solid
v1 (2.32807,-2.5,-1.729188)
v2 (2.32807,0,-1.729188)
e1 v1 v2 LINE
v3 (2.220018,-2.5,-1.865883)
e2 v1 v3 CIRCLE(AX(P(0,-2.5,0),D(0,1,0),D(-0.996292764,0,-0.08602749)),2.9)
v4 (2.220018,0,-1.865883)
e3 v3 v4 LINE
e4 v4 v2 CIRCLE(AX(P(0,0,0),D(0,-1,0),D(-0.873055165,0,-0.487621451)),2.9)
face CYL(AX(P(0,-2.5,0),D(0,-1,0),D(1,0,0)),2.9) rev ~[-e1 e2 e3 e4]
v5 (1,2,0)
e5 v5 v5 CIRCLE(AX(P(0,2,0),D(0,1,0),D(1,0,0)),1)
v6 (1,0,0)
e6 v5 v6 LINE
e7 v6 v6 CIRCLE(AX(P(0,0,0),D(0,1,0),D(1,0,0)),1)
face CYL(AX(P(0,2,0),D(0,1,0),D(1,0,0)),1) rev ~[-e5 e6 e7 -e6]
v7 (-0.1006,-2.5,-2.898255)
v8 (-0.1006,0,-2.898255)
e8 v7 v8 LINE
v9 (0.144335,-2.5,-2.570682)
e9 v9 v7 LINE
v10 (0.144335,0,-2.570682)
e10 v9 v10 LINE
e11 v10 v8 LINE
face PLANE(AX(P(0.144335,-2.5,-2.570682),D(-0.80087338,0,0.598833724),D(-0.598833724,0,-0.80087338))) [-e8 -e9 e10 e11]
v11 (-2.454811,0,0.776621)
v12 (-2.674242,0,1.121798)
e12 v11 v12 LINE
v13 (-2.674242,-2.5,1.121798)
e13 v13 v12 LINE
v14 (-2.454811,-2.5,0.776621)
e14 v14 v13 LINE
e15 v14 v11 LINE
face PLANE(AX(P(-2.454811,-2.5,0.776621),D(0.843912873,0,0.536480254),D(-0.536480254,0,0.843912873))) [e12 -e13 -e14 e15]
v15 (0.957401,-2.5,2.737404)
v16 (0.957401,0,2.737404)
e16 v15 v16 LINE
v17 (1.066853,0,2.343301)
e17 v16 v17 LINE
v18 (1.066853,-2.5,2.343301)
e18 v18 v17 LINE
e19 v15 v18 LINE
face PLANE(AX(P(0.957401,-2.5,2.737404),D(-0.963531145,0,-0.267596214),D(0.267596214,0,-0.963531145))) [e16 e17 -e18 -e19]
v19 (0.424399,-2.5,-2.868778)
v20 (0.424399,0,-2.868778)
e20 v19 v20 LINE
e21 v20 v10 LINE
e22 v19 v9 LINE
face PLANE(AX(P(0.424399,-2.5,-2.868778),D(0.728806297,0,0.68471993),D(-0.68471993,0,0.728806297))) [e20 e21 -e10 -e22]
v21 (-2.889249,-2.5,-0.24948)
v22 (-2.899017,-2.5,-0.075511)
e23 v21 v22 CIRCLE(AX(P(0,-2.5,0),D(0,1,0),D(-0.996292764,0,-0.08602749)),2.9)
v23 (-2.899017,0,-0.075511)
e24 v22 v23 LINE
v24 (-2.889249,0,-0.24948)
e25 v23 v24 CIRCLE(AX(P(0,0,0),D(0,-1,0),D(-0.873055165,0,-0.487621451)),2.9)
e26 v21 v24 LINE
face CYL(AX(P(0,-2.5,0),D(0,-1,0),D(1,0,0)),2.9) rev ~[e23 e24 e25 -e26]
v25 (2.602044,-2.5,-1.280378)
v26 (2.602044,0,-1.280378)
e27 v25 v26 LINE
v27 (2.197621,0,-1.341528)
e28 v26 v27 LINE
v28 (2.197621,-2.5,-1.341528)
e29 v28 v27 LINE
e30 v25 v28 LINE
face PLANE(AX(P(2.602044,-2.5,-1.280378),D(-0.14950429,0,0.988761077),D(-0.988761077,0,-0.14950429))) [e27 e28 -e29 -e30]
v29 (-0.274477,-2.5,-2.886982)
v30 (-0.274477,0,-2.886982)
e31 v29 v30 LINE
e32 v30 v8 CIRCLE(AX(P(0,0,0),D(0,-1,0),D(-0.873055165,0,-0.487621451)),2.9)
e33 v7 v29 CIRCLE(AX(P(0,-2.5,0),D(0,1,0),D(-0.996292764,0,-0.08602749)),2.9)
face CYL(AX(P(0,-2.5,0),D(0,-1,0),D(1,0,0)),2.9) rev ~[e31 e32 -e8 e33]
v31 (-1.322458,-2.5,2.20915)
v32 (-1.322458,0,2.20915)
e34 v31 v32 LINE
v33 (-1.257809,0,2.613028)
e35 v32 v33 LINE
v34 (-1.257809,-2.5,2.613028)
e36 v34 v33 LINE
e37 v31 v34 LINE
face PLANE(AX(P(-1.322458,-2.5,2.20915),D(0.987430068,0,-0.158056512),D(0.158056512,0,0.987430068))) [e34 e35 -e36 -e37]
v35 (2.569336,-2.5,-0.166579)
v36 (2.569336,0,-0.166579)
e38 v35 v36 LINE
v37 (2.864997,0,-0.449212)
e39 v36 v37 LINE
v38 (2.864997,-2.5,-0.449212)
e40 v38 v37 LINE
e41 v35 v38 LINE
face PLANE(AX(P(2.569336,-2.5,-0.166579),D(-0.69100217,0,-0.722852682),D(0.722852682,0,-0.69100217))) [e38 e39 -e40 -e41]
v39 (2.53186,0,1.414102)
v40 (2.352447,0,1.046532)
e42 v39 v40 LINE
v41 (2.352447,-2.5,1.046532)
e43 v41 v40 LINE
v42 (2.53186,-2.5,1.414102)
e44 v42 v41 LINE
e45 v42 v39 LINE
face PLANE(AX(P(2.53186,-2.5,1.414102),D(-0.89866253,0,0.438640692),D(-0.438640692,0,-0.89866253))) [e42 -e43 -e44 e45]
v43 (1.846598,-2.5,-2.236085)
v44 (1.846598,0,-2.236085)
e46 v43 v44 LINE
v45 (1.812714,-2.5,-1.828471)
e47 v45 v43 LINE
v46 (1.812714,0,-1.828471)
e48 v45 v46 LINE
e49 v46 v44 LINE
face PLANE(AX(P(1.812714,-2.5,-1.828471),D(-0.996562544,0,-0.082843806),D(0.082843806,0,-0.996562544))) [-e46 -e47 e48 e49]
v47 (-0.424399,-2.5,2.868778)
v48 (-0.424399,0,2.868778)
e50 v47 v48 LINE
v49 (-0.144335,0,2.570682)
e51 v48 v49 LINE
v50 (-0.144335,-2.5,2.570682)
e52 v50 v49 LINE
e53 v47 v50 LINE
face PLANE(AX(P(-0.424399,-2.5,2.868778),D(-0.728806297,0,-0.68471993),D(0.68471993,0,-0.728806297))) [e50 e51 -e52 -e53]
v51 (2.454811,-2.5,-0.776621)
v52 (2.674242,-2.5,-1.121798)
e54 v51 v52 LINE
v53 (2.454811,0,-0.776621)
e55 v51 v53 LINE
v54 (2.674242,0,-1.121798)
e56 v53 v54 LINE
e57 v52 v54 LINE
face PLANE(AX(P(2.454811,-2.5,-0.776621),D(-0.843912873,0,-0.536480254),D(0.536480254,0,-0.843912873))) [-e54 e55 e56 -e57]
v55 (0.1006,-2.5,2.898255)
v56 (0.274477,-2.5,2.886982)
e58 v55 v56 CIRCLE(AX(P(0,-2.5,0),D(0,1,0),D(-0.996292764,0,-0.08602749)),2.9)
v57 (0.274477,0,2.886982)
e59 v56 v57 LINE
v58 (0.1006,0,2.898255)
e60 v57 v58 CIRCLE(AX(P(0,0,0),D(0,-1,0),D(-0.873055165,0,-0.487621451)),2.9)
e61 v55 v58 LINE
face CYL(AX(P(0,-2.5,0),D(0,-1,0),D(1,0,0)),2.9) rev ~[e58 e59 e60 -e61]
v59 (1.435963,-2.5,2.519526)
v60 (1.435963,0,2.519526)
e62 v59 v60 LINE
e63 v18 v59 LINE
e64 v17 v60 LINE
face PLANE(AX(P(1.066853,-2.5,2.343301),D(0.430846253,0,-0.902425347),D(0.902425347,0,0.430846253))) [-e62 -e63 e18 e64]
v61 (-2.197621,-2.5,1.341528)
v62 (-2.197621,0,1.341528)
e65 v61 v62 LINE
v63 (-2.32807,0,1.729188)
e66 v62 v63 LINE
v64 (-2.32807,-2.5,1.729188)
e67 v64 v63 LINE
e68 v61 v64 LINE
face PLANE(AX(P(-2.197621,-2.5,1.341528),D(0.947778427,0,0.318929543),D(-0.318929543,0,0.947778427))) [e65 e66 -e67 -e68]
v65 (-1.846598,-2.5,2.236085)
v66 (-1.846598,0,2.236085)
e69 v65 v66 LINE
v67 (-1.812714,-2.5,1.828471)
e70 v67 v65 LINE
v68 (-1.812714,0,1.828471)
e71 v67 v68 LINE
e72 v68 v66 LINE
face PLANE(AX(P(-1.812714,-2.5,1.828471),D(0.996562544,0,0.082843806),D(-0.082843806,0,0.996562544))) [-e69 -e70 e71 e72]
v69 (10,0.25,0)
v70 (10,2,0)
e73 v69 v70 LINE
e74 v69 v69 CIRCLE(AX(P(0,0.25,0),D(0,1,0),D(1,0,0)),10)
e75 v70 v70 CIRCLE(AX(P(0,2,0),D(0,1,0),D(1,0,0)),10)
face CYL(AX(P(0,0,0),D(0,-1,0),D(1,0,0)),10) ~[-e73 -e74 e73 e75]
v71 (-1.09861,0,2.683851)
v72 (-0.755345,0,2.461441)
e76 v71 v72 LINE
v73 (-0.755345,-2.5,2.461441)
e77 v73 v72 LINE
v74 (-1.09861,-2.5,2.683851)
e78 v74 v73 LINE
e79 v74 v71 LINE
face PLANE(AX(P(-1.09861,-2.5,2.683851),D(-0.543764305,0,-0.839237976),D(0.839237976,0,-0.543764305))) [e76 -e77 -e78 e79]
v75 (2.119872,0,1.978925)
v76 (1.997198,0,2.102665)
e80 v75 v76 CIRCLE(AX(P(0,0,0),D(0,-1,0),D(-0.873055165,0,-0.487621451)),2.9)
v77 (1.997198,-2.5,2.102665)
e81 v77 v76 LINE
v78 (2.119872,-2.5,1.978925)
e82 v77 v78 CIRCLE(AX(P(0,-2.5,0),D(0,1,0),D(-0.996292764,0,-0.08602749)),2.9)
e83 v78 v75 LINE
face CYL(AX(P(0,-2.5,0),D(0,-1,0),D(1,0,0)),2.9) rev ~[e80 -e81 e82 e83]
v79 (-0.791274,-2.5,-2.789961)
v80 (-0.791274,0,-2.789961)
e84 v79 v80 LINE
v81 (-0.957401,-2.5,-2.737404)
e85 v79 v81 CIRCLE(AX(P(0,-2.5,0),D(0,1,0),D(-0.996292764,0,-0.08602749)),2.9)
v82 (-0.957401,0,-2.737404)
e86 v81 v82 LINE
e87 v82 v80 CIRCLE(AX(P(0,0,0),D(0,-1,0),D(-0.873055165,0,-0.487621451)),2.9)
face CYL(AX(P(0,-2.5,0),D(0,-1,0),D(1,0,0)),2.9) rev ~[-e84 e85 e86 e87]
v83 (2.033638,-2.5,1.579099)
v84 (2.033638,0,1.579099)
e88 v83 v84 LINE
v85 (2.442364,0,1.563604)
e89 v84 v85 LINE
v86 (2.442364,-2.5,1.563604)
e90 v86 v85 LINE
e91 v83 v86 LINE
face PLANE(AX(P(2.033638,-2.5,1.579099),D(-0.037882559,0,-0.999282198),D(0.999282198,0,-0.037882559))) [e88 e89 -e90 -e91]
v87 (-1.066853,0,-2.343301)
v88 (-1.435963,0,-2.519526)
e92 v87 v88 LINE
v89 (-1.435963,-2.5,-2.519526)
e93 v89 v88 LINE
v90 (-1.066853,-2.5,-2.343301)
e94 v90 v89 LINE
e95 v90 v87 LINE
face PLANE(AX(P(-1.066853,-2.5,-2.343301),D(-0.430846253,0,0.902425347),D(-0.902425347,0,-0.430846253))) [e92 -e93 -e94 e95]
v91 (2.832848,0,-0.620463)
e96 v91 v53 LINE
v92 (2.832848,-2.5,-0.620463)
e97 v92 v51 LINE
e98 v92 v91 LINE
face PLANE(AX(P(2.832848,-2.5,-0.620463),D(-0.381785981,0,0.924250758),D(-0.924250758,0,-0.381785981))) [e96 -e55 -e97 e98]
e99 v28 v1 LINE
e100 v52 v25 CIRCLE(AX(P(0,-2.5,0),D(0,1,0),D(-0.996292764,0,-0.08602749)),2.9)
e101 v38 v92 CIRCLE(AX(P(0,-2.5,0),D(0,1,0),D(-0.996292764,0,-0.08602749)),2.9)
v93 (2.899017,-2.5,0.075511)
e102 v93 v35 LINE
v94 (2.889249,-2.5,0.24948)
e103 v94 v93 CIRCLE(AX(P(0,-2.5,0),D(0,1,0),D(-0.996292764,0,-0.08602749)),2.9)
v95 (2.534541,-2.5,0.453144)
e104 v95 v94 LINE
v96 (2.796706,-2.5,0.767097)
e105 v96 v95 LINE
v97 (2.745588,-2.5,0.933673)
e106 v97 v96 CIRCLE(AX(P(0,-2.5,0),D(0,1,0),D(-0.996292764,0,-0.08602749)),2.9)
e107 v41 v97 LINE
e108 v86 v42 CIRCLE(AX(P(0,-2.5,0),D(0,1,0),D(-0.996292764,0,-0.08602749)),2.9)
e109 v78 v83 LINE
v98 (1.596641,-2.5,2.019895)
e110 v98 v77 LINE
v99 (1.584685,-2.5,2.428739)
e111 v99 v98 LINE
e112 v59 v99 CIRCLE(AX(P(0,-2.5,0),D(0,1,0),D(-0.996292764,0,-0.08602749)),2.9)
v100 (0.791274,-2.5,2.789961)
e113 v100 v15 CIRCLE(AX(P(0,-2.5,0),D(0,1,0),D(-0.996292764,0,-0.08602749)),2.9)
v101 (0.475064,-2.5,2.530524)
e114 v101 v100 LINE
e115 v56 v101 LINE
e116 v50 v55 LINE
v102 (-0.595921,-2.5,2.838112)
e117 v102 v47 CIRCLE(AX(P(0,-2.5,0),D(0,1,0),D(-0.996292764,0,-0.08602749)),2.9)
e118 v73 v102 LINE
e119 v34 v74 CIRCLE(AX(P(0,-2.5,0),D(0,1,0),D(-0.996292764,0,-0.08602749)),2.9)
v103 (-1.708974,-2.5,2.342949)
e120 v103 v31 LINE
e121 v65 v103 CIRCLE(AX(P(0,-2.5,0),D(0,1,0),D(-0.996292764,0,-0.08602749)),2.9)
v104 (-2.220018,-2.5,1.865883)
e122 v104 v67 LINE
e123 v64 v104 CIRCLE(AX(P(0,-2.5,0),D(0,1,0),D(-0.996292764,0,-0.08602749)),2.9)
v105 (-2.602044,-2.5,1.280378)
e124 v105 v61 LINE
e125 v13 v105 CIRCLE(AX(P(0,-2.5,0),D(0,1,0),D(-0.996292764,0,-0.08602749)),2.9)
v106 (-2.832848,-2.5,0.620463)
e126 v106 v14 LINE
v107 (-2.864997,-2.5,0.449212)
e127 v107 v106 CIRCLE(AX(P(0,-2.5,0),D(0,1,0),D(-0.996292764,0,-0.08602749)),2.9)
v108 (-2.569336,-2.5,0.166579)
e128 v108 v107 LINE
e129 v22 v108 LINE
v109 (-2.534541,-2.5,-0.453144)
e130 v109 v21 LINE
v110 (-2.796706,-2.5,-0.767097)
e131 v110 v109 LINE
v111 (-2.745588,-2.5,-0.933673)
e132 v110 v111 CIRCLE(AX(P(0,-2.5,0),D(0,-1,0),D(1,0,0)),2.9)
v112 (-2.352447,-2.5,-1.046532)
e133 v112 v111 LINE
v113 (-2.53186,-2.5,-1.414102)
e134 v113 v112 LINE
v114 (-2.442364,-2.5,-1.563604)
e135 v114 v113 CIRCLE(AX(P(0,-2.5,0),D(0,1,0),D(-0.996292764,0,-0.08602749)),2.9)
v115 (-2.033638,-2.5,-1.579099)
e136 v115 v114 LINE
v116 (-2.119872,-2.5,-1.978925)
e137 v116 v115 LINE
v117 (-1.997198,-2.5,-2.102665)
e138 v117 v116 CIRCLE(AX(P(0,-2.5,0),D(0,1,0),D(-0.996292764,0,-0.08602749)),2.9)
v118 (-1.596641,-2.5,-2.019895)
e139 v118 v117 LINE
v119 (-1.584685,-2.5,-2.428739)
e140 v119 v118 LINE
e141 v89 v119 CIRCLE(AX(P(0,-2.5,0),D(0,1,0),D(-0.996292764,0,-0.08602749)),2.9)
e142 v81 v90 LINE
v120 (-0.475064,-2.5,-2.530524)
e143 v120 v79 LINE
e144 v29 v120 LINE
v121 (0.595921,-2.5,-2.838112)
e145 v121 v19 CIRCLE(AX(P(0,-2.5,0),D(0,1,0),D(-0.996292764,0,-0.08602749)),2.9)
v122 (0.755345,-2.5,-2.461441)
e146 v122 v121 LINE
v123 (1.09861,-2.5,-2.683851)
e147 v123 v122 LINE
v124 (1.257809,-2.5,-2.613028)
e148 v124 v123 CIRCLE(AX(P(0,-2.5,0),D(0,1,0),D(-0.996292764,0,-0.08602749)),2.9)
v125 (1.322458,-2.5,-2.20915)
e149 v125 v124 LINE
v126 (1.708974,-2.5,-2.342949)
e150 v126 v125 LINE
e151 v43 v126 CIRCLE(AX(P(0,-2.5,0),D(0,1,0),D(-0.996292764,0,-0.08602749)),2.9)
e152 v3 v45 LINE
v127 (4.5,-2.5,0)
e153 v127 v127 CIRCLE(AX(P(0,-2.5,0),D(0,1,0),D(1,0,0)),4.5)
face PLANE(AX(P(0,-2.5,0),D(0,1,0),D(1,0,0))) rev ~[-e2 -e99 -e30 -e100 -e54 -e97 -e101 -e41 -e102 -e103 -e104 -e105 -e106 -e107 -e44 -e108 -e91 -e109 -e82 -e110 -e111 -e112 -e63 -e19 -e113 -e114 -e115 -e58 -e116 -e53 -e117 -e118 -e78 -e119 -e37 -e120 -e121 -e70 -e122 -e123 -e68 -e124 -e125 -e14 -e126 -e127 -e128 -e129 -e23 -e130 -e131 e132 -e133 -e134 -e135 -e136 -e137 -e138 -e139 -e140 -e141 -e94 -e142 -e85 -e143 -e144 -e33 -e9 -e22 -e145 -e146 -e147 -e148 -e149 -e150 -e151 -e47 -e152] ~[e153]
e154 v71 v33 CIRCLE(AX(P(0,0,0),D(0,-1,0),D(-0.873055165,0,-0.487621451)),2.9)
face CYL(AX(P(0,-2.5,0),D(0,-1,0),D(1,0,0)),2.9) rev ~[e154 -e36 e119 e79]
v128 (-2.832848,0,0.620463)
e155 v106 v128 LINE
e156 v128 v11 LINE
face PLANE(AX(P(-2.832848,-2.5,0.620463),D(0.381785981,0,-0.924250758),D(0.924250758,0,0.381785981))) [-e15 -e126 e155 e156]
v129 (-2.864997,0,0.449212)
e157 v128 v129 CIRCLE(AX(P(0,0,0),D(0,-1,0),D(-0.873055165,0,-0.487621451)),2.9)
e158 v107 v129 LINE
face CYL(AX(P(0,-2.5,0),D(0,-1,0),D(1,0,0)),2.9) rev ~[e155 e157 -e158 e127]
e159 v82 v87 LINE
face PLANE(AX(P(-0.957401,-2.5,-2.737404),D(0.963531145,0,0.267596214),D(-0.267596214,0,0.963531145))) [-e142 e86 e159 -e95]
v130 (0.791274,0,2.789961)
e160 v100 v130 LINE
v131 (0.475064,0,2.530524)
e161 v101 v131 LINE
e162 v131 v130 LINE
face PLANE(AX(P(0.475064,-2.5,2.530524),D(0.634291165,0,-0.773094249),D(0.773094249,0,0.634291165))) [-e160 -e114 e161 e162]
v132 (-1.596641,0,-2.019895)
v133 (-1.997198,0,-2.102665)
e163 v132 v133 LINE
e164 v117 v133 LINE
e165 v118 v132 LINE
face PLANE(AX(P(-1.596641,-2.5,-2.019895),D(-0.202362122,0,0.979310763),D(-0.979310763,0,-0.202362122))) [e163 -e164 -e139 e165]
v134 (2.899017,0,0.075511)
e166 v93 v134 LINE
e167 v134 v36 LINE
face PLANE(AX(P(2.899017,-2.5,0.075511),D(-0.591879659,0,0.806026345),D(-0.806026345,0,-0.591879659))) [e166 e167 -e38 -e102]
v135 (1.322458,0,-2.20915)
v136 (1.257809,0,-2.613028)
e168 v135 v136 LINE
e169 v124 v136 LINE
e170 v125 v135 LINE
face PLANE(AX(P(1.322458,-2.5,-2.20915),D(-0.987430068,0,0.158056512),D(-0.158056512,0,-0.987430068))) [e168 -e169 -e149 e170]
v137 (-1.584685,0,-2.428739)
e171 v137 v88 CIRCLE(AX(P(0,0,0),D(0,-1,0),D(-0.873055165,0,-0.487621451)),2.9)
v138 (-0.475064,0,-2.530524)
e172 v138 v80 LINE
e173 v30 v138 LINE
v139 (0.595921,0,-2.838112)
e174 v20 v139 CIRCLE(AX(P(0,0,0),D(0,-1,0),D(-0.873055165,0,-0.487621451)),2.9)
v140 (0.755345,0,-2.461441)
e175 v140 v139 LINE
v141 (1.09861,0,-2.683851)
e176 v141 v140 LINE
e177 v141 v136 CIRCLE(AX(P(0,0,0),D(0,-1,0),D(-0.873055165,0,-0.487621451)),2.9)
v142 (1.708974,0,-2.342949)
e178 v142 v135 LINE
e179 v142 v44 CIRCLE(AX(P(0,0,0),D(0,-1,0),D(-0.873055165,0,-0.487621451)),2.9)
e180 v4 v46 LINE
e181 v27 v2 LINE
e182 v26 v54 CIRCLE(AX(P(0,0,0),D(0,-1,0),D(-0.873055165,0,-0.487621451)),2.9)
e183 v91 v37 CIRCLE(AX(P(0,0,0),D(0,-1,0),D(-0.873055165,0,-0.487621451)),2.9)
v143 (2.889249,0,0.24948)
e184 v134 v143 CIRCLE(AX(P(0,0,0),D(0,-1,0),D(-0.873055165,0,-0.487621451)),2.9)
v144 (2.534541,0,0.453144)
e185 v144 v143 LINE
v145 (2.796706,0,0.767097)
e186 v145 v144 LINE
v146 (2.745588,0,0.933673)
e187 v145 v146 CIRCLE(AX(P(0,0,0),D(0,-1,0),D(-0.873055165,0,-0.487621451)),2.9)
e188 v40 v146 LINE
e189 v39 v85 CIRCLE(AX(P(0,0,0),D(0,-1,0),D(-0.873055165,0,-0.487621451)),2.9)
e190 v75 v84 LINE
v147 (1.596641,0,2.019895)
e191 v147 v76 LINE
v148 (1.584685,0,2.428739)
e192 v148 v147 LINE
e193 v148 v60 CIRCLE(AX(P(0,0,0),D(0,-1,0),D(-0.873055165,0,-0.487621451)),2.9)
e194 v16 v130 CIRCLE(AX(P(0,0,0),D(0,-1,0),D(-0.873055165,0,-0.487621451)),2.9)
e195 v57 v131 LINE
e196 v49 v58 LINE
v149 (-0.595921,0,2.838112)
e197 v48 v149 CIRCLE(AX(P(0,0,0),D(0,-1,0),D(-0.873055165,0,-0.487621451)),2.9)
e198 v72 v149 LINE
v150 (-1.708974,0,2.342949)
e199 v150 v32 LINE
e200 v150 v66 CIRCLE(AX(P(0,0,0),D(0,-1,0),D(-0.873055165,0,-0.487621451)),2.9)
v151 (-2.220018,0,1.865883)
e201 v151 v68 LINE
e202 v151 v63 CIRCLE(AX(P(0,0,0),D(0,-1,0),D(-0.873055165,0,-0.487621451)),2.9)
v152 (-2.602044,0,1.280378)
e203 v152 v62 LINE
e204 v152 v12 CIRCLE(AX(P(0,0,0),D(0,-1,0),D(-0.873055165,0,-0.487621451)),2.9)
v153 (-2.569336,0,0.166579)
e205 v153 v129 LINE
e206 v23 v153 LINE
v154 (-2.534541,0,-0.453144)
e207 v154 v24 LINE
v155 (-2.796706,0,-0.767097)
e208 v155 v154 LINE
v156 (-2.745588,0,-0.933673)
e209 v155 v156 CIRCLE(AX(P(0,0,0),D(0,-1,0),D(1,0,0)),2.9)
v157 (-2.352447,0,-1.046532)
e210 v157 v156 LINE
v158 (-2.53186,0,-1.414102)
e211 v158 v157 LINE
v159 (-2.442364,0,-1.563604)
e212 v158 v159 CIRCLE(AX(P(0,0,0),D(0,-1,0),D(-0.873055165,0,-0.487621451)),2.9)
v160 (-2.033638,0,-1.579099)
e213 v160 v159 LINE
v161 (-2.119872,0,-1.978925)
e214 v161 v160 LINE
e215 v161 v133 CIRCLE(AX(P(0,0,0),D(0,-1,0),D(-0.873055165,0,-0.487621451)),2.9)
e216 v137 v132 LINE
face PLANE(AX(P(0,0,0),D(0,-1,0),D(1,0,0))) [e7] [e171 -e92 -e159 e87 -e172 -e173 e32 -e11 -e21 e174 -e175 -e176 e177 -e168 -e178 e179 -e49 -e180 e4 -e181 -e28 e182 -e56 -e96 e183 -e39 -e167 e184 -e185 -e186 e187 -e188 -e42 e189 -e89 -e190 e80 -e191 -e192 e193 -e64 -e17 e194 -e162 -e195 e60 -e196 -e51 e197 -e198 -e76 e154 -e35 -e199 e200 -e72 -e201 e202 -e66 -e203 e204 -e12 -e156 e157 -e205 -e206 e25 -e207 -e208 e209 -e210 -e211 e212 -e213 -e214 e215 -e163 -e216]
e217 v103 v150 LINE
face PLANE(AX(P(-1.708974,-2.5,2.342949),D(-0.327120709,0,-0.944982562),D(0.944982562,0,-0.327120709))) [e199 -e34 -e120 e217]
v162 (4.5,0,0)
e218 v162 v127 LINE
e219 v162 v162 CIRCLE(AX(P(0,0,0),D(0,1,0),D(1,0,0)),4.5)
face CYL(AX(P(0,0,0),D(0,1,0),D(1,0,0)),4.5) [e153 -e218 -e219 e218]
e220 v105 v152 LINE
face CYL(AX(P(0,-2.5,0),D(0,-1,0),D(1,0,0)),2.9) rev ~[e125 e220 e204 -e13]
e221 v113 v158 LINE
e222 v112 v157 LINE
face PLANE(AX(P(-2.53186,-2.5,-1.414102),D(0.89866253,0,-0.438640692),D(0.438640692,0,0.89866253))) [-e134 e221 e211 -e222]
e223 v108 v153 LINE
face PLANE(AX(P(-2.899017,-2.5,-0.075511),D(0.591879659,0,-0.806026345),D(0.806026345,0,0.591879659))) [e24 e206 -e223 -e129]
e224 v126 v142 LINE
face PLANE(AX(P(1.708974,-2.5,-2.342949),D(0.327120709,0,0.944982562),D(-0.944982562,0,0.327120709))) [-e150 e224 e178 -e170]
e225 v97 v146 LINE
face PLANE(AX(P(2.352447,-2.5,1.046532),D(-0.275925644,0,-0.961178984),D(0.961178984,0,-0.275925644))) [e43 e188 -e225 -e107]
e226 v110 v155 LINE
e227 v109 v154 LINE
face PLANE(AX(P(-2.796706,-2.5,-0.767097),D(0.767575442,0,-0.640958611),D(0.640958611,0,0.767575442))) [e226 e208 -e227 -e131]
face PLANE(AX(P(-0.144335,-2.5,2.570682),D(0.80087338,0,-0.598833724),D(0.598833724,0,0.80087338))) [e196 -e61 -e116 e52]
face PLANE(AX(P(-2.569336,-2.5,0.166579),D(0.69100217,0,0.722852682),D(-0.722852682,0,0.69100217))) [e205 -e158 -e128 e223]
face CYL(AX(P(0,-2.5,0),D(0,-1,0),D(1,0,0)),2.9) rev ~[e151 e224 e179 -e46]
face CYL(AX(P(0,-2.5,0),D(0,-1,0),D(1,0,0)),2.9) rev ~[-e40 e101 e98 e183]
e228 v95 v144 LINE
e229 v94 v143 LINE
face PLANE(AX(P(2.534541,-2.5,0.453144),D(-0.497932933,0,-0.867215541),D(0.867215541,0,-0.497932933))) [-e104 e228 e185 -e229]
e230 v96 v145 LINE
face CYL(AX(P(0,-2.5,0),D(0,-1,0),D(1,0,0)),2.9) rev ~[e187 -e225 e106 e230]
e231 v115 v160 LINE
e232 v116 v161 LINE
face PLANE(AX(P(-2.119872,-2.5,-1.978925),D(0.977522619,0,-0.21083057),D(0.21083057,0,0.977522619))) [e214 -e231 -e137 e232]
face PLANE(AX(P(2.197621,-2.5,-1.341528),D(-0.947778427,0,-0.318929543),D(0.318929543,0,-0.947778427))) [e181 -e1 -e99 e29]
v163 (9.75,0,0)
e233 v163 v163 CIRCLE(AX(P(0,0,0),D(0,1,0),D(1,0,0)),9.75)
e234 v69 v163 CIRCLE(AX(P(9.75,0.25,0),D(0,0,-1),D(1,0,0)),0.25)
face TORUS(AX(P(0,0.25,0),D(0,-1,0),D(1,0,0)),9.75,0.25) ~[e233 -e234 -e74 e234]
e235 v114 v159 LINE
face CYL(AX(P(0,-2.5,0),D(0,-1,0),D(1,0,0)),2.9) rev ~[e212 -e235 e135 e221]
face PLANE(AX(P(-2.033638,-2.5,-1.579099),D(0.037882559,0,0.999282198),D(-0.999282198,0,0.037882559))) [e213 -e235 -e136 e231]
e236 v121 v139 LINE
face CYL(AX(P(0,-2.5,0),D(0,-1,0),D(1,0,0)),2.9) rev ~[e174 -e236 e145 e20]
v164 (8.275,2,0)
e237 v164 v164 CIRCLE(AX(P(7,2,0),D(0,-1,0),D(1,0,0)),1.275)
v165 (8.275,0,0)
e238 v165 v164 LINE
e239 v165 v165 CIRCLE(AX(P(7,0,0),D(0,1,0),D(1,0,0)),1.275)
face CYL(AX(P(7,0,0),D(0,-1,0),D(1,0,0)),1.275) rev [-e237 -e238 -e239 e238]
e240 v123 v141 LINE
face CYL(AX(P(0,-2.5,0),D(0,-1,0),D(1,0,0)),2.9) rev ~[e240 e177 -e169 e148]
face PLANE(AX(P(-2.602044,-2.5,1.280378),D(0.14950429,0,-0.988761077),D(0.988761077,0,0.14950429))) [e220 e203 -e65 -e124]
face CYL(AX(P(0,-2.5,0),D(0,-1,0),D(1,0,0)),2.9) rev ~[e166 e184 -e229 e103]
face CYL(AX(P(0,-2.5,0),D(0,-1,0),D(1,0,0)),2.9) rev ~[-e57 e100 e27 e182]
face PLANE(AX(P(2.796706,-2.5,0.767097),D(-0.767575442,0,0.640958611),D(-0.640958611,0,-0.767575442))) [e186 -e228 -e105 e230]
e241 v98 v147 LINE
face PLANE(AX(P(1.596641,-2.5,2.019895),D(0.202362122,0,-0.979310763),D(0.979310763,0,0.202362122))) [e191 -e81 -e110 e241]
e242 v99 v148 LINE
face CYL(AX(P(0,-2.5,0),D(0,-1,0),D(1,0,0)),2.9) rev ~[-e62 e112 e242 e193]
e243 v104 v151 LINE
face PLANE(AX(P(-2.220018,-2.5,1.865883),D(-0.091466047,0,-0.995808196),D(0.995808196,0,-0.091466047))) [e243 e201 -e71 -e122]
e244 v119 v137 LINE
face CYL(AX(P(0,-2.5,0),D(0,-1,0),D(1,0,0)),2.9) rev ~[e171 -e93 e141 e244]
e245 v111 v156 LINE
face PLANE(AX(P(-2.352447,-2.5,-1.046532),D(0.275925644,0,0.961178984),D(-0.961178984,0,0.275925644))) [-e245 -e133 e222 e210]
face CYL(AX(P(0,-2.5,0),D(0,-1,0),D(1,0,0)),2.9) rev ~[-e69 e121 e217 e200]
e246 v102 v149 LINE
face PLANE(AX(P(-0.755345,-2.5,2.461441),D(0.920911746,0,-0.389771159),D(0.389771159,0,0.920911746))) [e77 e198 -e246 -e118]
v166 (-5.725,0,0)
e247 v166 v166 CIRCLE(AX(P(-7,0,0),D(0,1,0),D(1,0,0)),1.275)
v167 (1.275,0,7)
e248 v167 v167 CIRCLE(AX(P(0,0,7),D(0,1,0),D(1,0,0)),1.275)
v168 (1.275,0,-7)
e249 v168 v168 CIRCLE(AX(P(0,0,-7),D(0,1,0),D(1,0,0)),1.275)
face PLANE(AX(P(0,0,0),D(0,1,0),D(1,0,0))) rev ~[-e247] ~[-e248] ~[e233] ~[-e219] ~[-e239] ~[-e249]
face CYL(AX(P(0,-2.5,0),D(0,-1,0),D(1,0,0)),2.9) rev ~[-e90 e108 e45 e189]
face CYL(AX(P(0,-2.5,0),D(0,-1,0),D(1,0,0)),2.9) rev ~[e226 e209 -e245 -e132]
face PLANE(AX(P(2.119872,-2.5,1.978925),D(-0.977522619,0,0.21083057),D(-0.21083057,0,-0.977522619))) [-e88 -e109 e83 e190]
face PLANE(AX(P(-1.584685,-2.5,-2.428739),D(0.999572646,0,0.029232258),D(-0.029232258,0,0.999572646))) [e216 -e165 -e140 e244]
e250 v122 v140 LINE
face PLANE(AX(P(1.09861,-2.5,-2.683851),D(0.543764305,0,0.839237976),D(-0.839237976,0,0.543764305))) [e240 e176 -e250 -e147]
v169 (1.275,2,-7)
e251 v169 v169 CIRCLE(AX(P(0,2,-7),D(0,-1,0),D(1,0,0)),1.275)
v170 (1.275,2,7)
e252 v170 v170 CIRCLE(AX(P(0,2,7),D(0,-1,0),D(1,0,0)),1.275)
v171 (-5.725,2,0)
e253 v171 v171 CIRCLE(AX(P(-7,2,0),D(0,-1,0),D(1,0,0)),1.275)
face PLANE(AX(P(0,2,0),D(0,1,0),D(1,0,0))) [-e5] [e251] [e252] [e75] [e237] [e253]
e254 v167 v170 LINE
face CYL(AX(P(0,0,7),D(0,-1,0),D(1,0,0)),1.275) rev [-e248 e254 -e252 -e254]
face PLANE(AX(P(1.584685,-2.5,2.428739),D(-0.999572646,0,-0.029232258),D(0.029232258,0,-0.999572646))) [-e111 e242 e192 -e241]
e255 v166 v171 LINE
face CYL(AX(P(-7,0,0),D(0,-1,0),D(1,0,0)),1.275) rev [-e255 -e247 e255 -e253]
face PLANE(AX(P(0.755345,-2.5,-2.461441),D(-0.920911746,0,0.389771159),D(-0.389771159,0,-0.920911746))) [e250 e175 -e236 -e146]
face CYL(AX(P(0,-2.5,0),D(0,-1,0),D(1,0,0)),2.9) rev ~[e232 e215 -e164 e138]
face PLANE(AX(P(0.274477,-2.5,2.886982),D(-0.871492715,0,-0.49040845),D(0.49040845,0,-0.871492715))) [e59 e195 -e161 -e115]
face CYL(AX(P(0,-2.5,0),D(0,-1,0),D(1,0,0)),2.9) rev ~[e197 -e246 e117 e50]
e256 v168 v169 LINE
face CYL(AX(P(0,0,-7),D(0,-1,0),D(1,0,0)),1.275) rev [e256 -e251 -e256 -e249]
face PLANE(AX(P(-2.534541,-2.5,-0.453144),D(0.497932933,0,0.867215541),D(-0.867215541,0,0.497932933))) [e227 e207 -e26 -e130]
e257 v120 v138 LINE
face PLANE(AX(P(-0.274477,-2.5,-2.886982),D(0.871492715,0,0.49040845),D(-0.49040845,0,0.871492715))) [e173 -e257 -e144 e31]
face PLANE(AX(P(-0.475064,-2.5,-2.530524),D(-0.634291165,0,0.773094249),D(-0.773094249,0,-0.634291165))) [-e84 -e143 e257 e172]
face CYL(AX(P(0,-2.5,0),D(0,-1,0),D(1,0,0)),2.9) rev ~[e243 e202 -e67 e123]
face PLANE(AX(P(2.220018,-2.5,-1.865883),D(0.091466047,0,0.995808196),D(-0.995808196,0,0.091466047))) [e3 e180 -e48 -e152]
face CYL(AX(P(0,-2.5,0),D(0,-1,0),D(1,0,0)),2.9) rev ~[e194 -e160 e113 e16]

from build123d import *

# Parameters (mm, degrees)
SKETCH1_R           = 10
BOSS_EXTRUDE1_DEPTH = 2
SKETCH2_R           = 4.5
BOSS_EXTRUDE2_DEPTH = 2.5
SKETCH3_R           = 1.275
CUT_EXTRUDE1_DEPTH  = 3
FILLET1_R           = 0.25
SKETCH6_R           = 1
CUT_EXTRUDE2_DEPTH  = 5.5
SKETCH7_R           = 2.9
CUT_EXTRUDE3_DEPTH  = 2.5
BOSS_EXTRUDE4_DEPTH = 2.5
CIRPATTERN1_COUNT   = 26


with BuildPart() as part:
    # Sketch1 → Boss-Extrude1 (new body)
    with BuildSketch(Plane(origin=(0, 0, 0), x_dir=(1, 0, 0), z_dir=(0, 1, 0))):
        Circle(SKETCH1_R)
    extrude(amount=BOSS_EXTRUDE1_DEPTH)

    # Sketch2 → Boss-Extrude2 (add)
    with BuildSketch(Plane(origin=(0, 0, 0), x_dir=(1, 0, 0), z_dir=(0, 1, 0))):
        Circle(SKETCH2_R)
    extrude(amount=-BOSS_EXTRUDE2_DEPTH)

    # Sketch3 → Cut-Extrude1 (cut, through all)
    with BuildSketch(Plane(origin=(0, 0, 0), x_dir=(1, 0, 0), z_dir=(0, 1, 0))):
        with Locations((0, 7)):
            Circle(SKETCH3_R)
        with Locations((-7, 0)):
            Circle(SKETCH3_R)
        with Locations((0, -7)):
            Circle(SKETCH3_R)
        with Locations((7, 0)):
            Circle(SKETCH3_R)
    extrude(amount=CUT_EXTRUDE1_DEPTH, mode=Mode.SUBTRACT)

    # Fillet1
    fillet1_edges = [part.edges().sort_by_distance(p)[0] for p in [
        (-10, 0, 0),
    ]]
    fillet(fillet1_edges, radius=FILLET1_R)

    # Sketch6 → Cut-Extrude2 (cut, through all)
    with BuildSketch(Plane(origin=(0, 2, 0), x_dir=(1, 0, 0), z_dir=(0, 1, 0))):
        Circle(SKETCH6_R)
    extrude(amount=-CUT_EXTRUDE2_DEPTH, mode=Mode.SUBTRACT)

    # Sketch7 → Cut-Extrude3 (cut)
    with BuildSketch(Plane.XZ.offset(2.5)):
        Circle(SKETCH7_R)
    extrude(amount=-CUT_EXTRUDE3_DEPTH, mode=Mode.SUBTRACT)

    # Sketch8 → Boss-Extrude4 (add)
    with BuildSketch(Plane.XZ.offset(2.5)):
        with BuildLine():
            Line((-2.35244742, -1.046531787), (-2.745588284, -0.933672842))
            ThreePointArc((-2.745588284, -0.933672842), (-2.649635472, -1.178741646), (-2.531859978, -1.414102207))
            Line((-2.531859978, -1.414102207), (-2.35244742, -1.046531787))
        make_face()
    boss_extrude4 = extrude(amount=-BOSS_EXTRUDE4_DEPTH)

    # CirPattern1: Boss-Extrude4 ×26 about axis
    cirpattern1_axis = Axis((0, 0, 0), (0, 1, 0))
    for i in range(1, CIRPATTERN1_COUNT):
        add(boss_extrude4.rotate(cirpattern1_axis, i * 360 / CIRPATTERN1_COUNT))


solid = part.part
